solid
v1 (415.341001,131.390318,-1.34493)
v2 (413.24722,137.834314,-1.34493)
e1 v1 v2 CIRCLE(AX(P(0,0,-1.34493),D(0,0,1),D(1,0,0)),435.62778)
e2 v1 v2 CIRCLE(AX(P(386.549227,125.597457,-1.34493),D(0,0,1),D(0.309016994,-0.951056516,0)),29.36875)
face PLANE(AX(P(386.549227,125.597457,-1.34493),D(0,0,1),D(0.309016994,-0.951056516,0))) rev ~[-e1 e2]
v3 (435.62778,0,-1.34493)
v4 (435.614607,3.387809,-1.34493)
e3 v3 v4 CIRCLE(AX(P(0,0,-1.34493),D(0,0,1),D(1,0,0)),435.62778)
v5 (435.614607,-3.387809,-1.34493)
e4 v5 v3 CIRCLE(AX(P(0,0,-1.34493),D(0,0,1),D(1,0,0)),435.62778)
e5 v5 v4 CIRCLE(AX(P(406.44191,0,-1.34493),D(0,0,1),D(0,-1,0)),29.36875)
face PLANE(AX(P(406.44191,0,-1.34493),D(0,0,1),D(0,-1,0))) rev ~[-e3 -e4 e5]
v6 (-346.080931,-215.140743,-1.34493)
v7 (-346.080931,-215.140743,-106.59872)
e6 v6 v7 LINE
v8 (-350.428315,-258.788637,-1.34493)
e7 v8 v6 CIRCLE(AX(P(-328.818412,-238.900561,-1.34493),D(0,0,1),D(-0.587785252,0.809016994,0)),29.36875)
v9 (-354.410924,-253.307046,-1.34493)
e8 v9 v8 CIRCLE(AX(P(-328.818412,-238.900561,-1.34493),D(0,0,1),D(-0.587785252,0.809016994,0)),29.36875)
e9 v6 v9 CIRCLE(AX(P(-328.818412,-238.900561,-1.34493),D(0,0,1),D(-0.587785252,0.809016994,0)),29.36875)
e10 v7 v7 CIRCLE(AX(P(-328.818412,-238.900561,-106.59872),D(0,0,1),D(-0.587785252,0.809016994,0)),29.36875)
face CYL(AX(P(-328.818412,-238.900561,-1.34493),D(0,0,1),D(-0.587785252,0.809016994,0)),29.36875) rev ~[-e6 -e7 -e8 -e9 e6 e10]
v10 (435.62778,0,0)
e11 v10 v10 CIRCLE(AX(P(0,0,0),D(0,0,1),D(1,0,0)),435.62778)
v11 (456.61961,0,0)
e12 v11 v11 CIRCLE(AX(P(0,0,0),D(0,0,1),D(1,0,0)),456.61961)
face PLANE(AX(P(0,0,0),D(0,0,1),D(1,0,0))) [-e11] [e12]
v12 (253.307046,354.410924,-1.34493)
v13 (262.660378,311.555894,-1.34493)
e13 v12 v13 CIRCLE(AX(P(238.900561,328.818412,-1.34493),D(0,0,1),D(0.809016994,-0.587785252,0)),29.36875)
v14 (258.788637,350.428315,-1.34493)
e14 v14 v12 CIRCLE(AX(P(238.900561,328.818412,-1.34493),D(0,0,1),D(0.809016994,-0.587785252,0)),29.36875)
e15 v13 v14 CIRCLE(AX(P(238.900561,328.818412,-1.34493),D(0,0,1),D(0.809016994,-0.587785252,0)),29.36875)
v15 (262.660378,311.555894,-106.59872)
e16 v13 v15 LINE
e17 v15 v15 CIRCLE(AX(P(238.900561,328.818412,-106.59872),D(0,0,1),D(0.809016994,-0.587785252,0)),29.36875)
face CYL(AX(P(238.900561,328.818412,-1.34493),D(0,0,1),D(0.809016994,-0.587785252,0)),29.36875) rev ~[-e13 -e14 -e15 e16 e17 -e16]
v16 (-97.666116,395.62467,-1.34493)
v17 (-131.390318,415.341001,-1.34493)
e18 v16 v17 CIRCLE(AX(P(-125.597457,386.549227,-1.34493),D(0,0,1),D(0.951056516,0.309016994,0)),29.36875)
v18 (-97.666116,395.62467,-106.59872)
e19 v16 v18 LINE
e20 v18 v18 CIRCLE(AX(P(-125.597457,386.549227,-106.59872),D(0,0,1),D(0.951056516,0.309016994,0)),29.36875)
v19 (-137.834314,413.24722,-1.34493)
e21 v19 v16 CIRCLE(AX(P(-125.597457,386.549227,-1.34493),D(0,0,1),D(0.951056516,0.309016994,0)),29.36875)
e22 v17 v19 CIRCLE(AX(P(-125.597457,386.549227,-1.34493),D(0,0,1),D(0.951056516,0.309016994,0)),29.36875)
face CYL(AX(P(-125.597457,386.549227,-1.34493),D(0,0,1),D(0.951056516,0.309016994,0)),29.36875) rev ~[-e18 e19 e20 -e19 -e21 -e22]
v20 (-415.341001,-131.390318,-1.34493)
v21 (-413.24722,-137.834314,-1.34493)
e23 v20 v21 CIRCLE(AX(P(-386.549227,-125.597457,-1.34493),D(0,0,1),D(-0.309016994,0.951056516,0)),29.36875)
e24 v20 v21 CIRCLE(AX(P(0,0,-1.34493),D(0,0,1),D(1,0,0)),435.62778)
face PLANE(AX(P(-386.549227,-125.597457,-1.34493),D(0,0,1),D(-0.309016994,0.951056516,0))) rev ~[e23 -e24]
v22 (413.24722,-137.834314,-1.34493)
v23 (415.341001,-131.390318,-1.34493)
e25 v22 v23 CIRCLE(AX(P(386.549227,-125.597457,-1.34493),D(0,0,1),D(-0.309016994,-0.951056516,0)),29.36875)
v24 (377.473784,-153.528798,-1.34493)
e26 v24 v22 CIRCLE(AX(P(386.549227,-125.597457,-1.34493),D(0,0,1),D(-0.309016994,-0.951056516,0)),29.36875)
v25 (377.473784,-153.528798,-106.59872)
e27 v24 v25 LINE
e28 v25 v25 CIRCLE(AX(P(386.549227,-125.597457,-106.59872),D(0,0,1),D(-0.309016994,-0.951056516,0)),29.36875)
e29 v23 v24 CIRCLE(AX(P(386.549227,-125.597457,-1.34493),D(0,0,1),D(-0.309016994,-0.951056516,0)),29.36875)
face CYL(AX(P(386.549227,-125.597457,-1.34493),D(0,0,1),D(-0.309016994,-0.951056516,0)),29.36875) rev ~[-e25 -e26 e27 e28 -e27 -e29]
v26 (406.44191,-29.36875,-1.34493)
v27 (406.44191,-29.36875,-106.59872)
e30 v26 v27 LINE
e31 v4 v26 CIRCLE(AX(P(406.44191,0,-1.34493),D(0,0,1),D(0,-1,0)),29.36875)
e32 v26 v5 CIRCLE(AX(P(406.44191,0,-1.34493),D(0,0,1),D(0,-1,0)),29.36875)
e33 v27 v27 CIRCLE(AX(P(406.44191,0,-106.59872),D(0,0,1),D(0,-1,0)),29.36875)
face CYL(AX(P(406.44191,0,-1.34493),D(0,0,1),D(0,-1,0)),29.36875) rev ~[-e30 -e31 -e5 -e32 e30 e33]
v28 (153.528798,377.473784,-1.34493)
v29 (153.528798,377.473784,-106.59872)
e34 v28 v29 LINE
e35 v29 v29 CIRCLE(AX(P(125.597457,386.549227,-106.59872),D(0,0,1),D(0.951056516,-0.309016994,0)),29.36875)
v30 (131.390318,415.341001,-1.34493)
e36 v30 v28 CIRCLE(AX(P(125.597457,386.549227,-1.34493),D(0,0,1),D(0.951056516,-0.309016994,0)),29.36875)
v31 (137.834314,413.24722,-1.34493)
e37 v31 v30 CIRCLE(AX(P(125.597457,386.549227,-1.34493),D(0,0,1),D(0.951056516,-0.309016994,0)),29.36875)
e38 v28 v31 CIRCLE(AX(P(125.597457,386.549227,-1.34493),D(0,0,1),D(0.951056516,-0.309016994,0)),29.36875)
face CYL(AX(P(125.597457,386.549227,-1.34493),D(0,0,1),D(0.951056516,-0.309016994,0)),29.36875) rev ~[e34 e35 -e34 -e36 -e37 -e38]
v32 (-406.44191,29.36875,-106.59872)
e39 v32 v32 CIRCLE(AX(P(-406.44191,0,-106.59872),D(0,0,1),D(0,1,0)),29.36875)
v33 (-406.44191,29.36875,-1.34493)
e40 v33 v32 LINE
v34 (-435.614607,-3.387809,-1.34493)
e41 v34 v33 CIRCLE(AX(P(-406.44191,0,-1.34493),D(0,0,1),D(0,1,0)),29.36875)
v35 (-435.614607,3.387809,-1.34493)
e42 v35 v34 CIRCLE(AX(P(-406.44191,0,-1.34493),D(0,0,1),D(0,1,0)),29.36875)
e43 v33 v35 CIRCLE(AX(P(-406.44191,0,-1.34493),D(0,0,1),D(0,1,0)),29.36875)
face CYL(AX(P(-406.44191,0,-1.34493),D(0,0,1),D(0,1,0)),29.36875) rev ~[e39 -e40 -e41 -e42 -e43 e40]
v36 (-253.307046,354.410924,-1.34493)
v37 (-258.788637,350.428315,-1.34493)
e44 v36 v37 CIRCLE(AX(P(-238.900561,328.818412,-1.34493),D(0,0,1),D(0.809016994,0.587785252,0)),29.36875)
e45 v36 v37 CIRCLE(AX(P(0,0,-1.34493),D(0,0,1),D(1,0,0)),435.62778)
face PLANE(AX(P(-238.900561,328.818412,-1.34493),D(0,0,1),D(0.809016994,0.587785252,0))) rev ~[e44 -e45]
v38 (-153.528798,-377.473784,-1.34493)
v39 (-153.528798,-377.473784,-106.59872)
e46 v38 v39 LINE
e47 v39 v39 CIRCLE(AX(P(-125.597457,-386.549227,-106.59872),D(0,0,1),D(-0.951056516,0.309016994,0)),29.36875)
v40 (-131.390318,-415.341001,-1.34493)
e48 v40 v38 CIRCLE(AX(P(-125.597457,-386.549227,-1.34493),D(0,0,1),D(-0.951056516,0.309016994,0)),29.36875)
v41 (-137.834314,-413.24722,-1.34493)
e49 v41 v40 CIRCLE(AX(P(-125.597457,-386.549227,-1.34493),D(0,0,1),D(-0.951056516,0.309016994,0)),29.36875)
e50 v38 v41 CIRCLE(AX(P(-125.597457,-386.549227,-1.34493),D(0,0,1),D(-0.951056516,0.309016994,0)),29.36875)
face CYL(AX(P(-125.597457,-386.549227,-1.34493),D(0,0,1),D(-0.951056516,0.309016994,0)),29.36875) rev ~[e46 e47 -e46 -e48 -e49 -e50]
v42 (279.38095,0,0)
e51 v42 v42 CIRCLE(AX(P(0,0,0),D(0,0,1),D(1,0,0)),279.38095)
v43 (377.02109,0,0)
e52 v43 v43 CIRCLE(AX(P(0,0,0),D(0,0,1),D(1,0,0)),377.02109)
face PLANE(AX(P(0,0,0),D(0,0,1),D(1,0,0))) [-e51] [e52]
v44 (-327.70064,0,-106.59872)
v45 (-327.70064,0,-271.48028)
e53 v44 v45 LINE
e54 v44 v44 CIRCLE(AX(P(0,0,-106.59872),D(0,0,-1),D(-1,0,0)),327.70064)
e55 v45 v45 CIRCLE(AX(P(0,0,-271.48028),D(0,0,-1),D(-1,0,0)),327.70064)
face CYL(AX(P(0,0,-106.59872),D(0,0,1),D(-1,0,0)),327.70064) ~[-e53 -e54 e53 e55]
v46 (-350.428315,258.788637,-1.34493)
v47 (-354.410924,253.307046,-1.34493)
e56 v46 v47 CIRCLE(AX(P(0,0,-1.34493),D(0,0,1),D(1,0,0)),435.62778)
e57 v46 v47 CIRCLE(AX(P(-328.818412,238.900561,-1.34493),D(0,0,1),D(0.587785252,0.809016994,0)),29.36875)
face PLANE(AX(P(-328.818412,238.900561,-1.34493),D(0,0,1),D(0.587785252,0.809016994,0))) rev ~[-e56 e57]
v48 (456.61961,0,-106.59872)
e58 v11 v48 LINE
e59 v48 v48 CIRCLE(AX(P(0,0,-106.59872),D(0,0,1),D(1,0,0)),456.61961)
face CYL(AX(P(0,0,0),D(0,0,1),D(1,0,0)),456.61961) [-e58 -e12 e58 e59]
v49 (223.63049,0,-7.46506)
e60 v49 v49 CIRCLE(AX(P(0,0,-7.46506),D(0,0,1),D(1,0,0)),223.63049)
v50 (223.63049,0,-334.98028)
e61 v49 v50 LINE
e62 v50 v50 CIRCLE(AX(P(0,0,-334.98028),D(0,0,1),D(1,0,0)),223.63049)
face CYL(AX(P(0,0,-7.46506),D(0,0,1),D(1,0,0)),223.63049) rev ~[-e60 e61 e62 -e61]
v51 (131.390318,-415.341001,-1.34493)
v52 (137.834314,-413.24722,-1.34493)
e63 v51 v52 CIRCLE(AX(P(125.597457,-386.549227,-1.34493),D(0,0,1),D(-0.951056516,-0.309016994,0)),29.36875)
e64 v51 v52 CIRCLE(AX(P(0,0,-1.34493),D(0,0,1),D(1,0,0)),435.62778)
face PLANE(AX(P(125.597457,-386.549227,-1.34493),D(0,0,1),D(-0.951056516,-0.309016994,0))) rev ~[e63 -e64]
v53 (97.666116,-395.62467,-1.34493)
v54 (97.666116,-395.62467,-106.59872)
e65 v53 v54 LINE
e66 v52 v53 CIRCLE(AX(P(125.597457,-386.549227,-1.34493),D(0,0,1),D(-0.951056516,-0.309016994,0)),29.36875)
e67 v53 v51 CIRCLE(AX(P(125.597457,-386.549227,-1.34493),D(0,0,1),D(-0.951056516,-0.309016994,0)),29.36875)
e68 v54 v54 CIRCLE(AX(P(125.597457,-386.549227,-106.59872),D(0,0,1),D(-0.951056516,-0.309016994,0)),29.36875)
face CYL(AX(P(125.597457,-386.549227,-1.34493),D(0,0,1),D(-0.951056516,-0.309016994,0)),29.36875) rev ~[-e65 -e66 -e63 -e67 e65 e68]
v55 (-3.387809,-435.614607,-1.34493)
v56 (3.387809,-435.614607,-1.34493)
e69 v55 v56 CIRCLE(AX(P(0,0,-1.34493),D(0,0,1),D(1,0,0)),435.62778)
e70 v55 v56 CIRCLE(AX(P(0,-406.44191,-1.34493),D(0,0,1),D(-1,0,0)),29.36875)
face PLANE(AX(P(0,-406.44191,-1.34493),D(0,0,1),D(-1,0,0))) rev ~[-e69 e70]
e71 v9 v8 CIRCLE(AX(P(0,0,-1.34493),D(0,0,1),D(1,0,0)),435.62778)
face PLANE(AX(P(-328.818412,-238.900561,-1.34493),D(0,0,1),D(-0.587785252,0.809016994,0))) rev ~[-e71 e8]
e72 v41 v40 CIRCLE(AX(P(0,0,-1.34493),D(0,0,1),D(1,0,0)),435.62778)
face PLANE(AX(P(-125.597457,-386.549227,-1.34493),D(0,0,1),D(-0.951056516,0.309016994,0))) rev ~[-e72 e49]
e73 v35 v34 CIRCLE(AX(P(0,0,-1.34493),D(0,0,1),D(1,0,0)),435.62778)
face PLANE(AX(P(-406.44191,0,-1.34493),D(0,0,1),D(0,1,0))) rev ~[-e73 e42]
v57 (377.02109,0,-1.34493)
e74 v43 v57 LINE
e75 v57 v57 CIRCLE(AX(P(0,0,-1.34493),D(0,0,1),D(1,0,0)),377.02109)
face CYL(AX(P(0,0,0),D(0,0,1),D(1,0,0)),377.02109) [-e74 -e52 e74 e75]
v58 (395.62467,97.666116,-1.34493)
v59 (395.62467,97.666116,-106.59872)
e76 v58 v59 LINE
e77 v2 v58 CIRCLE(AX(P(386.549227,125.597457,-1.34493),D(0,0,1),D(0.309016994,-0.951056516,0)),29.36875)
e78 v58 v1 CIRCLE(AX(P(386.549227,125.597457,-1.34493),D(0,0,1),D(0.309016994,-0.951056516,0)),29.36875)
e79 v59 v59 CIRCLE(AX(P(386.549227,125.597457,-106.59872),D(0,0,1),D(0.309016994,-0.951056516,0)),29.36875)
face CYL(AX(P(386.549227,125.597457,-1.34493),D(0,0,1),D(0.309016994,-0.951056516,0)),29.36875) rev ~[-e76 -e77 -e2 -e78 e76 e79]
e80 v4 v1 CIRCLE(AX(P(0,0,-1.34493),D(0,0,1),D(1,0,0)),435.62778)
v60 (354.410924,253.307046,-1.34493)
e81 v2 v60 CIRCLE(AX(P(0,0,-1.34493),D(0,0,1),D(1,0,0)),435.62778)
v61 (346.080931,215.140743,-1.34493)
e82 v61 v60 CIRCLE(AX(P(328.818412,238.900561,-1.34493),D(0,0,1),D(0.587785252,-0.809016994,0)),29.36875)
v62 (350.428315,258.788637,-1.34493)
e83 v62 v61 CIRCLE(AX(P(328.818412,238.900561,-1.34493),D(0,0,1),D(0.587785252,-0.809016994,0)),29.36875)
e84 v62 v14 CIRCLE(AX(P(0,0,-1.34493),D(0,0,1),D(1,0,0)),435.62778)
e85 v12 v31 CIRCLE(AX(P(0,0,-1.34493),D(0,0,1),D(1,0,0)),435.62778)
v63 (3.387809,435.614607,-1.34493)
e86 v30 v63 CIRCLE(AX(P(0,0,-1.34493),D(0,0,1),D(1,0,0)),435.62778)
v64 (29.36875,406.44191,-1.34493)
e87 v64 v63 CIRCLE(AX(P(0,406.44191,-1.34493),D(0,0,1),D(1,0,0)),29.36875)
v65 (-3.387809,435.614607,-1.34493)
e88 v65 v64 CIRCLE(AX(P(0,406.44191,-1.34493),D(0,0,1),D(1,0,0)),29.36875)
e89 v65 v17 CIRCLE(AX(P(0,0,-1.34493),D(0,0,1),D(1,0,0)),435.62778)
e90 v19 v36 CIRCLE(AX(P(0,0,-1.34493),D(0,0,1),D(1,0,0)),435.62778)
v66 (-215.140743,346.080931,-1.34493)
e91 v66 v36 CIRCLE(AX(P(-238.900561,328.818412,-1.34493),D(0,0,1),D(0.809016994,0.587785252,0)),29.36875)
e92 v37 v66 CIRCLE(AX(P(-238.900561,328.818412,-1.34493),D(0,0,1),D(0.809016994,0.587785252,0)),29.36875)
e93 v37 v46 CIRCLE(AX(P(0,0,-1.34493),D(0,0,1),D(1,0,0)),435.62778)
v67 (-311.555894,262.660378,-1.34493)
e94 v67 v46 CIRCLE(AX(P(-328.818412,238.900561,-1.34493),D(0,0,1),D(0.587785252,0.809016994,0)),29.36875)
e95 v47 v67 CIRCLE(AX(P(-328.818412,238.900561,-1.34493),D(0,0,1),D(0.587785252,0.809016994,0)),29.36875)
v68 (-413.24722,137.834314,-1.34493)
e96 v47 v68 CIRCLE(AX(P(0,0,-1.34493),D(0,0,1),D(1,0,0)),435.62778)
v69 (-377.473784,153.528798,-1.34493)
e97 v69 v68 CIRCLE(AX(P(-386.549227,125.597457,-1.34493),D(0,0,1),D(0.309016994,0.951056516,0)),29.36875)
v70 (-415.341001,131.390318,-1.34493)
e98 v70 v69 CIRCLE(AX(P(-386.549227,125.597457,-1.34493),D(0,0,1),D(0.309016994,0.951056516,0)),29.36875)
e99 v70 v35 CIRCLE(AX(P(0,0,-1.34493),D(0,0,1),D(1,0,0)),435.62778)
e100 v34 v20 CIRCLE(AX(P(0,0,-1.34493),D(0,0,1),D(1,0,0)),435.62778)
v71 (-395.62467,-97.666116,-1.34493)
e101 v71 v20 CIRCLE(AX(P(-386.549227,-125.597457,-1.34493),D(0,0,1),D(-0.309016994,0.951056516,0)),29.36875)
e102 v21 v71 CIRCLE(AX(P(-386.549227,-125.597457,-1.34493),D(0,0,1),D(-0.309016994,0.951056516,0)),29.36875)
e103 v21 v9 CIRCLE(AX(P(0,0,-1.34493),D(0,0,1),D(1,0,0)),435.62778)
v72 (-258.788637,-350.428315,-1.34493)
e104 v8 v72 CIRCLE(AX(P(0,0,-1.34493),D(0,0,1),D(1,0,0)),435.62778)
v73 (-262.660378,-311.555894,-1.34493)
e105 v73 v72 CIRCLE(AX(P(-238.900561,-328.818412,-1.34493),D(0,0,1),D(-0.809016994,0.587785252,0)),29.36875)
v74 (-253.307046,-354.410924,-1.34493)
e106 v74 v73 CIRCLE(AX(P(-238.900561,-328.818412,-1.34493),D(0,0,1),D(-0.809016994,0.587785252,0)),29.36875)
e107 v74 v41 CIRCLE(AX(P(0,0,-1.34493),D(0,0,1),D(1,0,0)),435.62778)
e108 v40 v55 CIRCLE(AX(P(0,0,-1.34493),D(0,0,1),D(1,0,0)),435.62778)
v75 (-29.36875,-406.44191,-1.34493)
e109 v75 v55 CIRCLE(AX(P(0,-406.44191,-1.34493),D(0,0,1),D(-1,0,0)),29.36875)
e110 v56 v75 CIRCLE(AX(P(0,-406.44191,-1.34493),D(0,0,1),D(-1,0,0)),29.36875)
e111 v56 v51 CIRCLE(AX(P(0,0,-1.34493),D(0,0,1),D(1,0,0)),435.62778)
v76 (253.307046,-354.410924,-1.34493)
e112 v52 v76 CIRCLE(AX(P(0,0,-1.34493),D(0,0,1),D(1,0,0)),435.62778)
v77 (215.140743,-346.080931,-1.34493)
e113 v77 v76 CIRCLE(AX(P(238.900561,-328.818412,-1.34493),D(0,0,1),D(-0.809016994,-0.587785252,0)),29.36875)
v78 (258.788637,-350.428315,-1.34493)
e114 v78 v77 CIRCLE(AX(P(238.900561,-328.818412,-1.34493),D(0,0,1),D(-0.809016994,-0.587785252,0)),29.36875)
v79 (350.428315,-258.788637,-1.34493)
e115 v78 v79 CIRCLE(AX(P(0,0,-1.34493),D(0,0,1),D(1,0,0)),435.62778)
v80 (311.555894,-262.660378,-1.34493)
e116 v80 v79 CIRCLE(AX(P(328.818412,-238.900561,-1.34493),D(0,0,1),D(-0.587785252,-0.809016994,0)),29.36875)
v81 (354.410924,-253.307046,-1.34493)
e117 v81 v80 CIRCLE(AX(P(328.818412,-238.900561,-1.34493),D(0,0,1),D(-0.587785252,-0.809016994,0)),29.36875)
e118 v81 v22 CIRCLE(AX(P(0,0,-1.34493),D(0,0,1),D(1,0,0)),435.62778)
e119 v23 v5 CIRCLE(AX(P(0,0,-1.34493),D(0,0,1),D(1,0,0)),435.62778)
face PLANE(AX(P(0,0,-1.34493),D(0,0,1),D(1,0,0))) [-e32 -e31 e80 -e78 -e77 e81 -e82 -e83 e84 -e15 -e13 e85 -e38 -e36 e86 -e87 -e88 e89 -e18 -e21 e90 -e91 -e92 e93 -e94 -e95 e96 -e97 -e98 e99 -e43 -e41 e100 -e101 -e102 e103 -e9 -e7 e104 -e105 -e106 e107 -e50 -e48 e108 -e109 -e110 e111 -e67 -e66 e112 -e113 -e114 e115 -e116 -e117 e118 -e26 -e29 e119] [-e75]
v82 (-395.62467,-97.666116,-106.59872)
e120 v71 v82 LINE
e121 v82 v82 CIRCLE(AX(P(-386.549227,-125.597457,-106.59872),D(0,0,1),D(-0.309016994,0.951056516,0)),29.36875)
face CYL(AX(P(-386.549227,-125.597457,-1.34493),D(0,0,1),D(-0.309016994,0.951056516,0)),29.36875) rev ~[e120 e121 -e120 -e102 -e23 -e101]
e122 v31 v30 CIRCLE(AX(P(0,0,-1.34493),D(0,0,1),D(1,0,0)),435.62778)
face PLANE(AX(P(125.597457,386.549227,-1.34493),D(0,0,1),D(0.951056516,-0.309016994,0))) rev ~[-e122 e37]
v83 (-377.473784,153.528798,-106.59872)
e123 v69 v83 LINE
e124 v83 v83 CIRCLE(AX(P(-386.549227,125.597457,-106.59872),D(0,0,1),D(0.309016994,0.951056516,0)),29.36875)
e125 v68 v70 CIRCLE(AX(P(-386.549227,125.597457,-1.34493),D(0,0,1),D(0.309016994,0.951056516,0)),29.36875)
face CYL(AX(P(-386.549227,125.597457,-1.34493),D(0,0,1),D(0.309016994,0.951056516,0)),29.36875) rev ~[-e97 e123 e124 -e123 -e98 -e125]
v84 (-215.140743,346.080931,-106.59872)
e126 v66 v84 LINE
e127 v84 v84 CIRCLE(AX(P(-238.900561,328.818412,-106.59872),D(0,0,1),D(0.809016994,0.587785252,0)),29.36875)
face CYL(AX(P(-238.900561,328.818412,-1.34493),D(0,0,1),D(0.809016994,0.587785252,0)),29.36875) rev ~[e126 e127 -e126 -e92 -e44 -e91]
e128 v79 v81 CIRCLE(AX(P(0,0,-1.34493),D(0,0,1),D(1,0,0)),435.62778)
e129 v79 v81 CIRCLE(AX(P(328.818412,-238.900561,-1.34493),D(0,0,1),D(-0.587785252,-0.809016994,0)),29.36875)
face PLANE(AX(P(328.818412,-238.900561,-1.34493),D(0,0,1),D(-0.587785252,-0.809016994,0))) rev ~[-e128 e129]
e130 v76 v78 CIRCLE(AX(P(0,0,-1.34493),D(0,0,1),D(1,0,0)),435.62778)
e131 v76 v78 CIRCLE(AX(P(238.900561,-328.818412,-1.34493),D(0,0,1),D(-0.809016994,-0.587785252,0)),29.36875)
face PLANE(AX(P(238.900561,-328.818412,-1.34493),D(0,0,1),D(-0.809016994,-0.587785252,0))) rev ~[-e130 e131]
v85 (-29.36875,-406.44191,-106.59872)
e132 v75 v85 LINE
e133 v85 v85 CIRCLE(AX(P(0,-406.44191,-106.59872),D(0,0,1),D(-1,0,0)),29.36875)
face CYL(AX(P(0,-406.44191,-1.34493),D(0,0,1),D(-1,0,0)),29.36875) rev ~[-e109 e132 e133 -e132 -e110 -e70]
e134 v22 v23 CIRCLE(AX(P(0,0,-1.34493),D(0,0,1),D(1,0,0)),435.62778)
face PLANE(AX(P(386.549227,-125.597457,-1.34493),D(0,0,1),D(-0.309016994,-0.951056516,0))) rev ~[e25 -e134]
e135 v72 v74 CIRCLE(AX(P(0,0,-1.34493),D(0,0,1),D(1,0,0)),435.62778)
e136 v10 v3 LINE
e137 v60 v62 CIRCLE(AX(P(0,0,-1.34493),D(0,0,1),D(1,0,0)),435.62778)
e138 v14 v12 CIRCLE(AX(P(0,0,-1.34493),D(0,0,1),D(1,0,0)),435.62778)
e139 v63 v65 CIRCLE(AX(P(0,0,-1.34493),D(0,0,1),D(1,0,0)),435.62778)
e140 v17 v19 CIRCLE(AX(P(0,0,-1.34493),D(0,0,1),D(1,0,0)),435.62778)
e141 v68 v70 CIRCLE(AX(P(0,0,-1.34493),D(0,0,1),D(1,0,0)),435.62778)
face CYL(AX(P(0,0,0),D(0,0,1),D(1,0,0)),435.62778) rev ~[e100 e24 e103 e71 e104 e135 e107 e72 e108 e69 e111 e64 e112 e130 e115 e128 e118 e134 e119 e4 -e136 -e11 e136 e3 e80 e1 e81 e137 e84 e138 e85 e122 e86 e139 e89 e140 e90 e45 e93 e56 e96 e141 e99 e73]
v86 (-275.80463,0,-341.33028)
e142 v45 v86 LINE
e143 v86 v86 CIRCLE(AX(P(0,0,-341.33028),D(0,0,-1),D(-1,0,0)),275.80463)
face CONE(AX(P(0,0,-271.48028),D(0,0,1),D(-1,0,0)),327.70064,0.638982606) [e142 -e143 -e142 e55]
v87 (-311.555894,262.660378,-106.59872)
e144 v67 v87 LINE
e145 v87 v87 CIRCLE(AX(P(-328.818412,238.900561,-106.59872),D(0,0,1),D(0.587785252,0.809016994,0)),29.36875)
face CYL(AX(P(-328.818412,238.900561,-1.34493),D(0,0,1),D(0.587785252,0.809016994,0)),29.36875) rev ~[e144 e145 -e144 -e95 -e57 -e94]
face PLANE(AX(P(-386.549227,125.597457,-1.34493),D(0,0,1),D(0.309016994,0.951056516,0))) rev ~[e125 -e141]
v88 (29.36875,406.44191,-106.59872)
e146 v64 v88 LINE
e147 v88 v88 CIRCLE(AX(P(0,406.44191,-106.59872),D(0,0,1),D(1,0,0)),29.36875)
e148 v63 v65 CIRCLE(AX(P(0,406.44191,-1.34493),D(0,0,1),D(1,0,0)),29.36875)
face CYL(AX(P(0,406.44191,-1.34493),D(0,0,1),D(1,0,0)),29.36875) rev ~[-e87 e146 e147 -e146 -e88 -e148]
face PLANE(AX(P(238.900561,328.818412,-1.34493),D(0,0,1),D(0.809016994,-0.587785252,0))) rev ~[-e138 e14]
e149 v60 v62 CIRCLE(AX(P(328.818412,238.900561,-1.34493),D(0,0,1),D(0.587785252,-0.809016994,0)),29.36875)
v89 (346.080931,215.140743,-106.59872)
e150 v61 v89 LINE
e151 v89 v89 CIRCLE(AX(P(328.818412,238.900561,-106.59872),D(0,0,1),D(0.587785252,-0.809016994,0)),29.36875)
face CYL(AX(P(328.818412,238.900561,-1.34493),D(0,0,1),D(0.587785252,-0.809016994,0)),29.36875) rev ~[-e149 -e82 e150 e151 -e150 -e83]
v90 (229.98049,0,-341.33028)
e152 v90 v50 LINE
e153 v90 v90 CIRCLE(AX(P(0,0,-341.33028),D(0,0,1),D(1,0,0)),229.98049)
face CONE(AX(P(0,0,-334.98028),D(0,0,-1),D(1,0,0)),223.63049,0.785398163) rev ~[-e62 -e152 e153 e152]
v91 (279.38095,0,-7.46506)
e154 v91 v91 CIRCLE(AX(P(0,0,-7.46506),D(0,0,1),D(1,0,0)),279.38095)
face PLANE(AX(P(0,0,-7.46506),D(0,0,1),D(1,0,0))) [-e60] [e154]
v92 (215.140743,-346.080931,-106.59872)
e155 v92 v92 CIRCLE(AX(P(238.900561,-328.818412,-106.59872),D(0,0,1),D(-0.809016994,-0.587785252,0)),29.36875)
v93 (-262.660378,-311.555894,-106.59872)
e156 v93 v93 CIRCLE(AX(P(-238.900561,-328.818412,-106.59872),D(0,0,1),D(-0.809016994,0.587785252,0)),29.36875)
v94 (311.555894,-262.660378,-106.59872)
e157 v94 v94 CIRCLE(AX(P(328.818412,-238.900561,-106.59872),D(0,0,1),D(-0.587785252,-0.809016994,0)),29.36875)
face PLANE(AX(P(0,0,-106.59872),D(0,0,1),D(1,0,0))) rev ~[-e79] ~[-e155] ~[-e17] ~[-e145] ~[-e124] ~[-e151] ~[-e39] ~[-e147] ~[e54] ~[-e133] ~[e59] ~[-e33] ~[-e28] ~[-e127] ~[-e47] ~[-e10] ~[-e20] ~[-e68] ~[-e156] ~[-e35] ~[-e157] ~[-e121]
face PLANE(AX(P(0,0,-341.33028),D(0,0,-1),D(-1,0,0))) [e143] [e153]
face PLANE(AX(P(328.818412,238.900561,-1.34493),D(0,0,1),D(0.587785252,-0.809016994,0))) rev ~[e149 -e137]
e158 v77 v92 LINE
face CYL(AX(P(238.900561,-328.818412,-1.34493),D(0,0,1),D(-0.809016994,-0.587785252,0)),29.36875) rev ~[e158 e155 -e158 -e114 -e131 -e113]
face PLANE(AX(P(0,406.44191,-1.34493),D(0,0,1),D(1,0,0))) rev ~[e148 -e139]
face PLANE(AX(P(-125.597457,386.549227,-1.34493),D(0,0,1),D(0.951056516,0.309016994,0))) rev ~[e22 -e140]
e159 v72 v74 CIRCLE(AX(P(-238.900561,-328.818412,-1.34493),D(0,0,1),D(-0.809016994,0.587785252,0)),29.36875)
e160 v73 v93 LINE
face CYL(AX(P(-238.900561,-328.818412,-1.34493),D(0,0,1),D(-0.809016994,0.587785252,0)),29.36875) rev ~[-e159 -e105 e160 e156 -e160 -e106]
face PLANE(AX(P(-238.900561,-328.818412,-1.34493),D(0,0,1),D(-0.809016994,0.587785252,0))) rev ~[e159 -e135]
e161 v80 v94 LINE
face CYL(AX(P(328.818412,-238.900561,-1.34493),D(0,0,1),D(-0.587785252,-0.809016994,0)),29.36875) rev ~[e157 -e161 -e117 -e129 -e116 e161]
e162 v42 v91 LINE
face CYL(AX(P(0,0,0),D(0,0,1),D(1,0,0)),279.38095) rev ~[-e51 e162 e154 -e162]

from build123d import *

# Parameters (mm, degrees)
SKETCH1_R         = 456.61961
EXTRUDE1_DEPTH    = 106.59872
SKETCH2_R         = 279.38095
EXTRUDE2_DEPTH    = 7.46506
SKETCH3_R         = 327.70064
EXTRUDE3_DEPTH    = 234.73156
CHAMFER1_SIZE     = 69.85
CHAMFER1_SIZE2    = 51.89601
SKETCH4_R         = 223.63049
EXTRUDE4_DEPTH    = 333.86522
SKETCH5_R         = 435.62778
SKETCH5_R_2       = 377.02109
EXTRUDE5_DEPTH    = 1.34493
SKETCH6_R         = 29.36875
EXTRUDE6_DEPTH    = 105.71734
CIRPATTERN1_COUNT = 20
CHAMFER2_SIZE     = 6.35


with BuildPart() as part:
    # Sketch1 → Extrude1 (new body)
    with BuildSketch(Plane.XY):
        Circle(SKETCH1_R)
    extrude(amount=-EXTRUDE1_DEPTH)

    # Sketch2 → Extrude2 (cut)
    with BuildSketch(Plane.XY):
        Circle(SKETCH2_R)
    extrude(amount=-EXTRUDE2_DEPTH, mode=Mode.SUBTRACT)

    # Sketch3 → Extrude3 (add)
    with BuildSketch(Plane(origin=(0, 0, -106.59872), x_dir=(-1, 0, 0), z_dir=(0, 0, -1))):
        Circle(SKETCH3_R)
    extrude(amount=EXTRUDE3_DEPTH)

    # Chamfer1
    chamfer1_edges = [part.edges().sort_by_distance(p)[0] for p in [
        (327.70064, 0, -341.33028),
    ]]
    chamfer1_side = [part.faces().sort_by_distance(p)[0] for p in [
        (327.70064, 0, -223.9645),
    ]]
    chamfer(chamfer1_edges, length=CHAMFER1_SIZE, length2=CHAMFER1_SIZE2, reference=chamfer1_side[0])

    # Sketch4 → Extrude4 (cut)
    with BuildSketch(Plane.XY.offset(-7.46506)):
        Circle(SKETCH4_R)
    extrude(amount=-EXTRUDE4_DEPTH, mode=Mode.SUBTRACT)

    # Sketch5 → Extrude5 (cut)
    with BuildSketch(Plane.XY):
        Circle(SKETCH5_R)
        Circle(SKETCH5_R_2, mode=Mode.SUBTRACT)
    extrude(amount=-EXTRUDE5_DEPTH, mode=Mode.SUBTRACT)

    # Sketch6 → Extrude6 (cut)
    with BuildSketch(Plane.XY.offset(-1.34493)):
        with Locations((0, 406.44191)):
            Circle(SKETCH6_R)
    extrude6 = extrude(amount=-EXTRUDE6_DEPTH, mode=Mode.SUBTRACT)

    # CirPattern1: Extrude6 ×20 about axis
    cirpattern1_axis = Axis((0, 0, 0), (0, 0, 1))
    for i in range(1, CIRPATTERN1_COUNT):
        add(extrude6.rotate(cirpattern1_axis, i * 360 / CIRPATTERN1_COUNT), mode=Mode.SUBTRACT)

    # Chamfer2
    chamfer2_edges = [part.edges().sort_by_distance(p)[0] for p in [
        (-223.63049, 0, -341.33028),
    ]]
    chamfer(chamfer2_edges, length=CHAMFER2_SIZE)


solid = part.part
